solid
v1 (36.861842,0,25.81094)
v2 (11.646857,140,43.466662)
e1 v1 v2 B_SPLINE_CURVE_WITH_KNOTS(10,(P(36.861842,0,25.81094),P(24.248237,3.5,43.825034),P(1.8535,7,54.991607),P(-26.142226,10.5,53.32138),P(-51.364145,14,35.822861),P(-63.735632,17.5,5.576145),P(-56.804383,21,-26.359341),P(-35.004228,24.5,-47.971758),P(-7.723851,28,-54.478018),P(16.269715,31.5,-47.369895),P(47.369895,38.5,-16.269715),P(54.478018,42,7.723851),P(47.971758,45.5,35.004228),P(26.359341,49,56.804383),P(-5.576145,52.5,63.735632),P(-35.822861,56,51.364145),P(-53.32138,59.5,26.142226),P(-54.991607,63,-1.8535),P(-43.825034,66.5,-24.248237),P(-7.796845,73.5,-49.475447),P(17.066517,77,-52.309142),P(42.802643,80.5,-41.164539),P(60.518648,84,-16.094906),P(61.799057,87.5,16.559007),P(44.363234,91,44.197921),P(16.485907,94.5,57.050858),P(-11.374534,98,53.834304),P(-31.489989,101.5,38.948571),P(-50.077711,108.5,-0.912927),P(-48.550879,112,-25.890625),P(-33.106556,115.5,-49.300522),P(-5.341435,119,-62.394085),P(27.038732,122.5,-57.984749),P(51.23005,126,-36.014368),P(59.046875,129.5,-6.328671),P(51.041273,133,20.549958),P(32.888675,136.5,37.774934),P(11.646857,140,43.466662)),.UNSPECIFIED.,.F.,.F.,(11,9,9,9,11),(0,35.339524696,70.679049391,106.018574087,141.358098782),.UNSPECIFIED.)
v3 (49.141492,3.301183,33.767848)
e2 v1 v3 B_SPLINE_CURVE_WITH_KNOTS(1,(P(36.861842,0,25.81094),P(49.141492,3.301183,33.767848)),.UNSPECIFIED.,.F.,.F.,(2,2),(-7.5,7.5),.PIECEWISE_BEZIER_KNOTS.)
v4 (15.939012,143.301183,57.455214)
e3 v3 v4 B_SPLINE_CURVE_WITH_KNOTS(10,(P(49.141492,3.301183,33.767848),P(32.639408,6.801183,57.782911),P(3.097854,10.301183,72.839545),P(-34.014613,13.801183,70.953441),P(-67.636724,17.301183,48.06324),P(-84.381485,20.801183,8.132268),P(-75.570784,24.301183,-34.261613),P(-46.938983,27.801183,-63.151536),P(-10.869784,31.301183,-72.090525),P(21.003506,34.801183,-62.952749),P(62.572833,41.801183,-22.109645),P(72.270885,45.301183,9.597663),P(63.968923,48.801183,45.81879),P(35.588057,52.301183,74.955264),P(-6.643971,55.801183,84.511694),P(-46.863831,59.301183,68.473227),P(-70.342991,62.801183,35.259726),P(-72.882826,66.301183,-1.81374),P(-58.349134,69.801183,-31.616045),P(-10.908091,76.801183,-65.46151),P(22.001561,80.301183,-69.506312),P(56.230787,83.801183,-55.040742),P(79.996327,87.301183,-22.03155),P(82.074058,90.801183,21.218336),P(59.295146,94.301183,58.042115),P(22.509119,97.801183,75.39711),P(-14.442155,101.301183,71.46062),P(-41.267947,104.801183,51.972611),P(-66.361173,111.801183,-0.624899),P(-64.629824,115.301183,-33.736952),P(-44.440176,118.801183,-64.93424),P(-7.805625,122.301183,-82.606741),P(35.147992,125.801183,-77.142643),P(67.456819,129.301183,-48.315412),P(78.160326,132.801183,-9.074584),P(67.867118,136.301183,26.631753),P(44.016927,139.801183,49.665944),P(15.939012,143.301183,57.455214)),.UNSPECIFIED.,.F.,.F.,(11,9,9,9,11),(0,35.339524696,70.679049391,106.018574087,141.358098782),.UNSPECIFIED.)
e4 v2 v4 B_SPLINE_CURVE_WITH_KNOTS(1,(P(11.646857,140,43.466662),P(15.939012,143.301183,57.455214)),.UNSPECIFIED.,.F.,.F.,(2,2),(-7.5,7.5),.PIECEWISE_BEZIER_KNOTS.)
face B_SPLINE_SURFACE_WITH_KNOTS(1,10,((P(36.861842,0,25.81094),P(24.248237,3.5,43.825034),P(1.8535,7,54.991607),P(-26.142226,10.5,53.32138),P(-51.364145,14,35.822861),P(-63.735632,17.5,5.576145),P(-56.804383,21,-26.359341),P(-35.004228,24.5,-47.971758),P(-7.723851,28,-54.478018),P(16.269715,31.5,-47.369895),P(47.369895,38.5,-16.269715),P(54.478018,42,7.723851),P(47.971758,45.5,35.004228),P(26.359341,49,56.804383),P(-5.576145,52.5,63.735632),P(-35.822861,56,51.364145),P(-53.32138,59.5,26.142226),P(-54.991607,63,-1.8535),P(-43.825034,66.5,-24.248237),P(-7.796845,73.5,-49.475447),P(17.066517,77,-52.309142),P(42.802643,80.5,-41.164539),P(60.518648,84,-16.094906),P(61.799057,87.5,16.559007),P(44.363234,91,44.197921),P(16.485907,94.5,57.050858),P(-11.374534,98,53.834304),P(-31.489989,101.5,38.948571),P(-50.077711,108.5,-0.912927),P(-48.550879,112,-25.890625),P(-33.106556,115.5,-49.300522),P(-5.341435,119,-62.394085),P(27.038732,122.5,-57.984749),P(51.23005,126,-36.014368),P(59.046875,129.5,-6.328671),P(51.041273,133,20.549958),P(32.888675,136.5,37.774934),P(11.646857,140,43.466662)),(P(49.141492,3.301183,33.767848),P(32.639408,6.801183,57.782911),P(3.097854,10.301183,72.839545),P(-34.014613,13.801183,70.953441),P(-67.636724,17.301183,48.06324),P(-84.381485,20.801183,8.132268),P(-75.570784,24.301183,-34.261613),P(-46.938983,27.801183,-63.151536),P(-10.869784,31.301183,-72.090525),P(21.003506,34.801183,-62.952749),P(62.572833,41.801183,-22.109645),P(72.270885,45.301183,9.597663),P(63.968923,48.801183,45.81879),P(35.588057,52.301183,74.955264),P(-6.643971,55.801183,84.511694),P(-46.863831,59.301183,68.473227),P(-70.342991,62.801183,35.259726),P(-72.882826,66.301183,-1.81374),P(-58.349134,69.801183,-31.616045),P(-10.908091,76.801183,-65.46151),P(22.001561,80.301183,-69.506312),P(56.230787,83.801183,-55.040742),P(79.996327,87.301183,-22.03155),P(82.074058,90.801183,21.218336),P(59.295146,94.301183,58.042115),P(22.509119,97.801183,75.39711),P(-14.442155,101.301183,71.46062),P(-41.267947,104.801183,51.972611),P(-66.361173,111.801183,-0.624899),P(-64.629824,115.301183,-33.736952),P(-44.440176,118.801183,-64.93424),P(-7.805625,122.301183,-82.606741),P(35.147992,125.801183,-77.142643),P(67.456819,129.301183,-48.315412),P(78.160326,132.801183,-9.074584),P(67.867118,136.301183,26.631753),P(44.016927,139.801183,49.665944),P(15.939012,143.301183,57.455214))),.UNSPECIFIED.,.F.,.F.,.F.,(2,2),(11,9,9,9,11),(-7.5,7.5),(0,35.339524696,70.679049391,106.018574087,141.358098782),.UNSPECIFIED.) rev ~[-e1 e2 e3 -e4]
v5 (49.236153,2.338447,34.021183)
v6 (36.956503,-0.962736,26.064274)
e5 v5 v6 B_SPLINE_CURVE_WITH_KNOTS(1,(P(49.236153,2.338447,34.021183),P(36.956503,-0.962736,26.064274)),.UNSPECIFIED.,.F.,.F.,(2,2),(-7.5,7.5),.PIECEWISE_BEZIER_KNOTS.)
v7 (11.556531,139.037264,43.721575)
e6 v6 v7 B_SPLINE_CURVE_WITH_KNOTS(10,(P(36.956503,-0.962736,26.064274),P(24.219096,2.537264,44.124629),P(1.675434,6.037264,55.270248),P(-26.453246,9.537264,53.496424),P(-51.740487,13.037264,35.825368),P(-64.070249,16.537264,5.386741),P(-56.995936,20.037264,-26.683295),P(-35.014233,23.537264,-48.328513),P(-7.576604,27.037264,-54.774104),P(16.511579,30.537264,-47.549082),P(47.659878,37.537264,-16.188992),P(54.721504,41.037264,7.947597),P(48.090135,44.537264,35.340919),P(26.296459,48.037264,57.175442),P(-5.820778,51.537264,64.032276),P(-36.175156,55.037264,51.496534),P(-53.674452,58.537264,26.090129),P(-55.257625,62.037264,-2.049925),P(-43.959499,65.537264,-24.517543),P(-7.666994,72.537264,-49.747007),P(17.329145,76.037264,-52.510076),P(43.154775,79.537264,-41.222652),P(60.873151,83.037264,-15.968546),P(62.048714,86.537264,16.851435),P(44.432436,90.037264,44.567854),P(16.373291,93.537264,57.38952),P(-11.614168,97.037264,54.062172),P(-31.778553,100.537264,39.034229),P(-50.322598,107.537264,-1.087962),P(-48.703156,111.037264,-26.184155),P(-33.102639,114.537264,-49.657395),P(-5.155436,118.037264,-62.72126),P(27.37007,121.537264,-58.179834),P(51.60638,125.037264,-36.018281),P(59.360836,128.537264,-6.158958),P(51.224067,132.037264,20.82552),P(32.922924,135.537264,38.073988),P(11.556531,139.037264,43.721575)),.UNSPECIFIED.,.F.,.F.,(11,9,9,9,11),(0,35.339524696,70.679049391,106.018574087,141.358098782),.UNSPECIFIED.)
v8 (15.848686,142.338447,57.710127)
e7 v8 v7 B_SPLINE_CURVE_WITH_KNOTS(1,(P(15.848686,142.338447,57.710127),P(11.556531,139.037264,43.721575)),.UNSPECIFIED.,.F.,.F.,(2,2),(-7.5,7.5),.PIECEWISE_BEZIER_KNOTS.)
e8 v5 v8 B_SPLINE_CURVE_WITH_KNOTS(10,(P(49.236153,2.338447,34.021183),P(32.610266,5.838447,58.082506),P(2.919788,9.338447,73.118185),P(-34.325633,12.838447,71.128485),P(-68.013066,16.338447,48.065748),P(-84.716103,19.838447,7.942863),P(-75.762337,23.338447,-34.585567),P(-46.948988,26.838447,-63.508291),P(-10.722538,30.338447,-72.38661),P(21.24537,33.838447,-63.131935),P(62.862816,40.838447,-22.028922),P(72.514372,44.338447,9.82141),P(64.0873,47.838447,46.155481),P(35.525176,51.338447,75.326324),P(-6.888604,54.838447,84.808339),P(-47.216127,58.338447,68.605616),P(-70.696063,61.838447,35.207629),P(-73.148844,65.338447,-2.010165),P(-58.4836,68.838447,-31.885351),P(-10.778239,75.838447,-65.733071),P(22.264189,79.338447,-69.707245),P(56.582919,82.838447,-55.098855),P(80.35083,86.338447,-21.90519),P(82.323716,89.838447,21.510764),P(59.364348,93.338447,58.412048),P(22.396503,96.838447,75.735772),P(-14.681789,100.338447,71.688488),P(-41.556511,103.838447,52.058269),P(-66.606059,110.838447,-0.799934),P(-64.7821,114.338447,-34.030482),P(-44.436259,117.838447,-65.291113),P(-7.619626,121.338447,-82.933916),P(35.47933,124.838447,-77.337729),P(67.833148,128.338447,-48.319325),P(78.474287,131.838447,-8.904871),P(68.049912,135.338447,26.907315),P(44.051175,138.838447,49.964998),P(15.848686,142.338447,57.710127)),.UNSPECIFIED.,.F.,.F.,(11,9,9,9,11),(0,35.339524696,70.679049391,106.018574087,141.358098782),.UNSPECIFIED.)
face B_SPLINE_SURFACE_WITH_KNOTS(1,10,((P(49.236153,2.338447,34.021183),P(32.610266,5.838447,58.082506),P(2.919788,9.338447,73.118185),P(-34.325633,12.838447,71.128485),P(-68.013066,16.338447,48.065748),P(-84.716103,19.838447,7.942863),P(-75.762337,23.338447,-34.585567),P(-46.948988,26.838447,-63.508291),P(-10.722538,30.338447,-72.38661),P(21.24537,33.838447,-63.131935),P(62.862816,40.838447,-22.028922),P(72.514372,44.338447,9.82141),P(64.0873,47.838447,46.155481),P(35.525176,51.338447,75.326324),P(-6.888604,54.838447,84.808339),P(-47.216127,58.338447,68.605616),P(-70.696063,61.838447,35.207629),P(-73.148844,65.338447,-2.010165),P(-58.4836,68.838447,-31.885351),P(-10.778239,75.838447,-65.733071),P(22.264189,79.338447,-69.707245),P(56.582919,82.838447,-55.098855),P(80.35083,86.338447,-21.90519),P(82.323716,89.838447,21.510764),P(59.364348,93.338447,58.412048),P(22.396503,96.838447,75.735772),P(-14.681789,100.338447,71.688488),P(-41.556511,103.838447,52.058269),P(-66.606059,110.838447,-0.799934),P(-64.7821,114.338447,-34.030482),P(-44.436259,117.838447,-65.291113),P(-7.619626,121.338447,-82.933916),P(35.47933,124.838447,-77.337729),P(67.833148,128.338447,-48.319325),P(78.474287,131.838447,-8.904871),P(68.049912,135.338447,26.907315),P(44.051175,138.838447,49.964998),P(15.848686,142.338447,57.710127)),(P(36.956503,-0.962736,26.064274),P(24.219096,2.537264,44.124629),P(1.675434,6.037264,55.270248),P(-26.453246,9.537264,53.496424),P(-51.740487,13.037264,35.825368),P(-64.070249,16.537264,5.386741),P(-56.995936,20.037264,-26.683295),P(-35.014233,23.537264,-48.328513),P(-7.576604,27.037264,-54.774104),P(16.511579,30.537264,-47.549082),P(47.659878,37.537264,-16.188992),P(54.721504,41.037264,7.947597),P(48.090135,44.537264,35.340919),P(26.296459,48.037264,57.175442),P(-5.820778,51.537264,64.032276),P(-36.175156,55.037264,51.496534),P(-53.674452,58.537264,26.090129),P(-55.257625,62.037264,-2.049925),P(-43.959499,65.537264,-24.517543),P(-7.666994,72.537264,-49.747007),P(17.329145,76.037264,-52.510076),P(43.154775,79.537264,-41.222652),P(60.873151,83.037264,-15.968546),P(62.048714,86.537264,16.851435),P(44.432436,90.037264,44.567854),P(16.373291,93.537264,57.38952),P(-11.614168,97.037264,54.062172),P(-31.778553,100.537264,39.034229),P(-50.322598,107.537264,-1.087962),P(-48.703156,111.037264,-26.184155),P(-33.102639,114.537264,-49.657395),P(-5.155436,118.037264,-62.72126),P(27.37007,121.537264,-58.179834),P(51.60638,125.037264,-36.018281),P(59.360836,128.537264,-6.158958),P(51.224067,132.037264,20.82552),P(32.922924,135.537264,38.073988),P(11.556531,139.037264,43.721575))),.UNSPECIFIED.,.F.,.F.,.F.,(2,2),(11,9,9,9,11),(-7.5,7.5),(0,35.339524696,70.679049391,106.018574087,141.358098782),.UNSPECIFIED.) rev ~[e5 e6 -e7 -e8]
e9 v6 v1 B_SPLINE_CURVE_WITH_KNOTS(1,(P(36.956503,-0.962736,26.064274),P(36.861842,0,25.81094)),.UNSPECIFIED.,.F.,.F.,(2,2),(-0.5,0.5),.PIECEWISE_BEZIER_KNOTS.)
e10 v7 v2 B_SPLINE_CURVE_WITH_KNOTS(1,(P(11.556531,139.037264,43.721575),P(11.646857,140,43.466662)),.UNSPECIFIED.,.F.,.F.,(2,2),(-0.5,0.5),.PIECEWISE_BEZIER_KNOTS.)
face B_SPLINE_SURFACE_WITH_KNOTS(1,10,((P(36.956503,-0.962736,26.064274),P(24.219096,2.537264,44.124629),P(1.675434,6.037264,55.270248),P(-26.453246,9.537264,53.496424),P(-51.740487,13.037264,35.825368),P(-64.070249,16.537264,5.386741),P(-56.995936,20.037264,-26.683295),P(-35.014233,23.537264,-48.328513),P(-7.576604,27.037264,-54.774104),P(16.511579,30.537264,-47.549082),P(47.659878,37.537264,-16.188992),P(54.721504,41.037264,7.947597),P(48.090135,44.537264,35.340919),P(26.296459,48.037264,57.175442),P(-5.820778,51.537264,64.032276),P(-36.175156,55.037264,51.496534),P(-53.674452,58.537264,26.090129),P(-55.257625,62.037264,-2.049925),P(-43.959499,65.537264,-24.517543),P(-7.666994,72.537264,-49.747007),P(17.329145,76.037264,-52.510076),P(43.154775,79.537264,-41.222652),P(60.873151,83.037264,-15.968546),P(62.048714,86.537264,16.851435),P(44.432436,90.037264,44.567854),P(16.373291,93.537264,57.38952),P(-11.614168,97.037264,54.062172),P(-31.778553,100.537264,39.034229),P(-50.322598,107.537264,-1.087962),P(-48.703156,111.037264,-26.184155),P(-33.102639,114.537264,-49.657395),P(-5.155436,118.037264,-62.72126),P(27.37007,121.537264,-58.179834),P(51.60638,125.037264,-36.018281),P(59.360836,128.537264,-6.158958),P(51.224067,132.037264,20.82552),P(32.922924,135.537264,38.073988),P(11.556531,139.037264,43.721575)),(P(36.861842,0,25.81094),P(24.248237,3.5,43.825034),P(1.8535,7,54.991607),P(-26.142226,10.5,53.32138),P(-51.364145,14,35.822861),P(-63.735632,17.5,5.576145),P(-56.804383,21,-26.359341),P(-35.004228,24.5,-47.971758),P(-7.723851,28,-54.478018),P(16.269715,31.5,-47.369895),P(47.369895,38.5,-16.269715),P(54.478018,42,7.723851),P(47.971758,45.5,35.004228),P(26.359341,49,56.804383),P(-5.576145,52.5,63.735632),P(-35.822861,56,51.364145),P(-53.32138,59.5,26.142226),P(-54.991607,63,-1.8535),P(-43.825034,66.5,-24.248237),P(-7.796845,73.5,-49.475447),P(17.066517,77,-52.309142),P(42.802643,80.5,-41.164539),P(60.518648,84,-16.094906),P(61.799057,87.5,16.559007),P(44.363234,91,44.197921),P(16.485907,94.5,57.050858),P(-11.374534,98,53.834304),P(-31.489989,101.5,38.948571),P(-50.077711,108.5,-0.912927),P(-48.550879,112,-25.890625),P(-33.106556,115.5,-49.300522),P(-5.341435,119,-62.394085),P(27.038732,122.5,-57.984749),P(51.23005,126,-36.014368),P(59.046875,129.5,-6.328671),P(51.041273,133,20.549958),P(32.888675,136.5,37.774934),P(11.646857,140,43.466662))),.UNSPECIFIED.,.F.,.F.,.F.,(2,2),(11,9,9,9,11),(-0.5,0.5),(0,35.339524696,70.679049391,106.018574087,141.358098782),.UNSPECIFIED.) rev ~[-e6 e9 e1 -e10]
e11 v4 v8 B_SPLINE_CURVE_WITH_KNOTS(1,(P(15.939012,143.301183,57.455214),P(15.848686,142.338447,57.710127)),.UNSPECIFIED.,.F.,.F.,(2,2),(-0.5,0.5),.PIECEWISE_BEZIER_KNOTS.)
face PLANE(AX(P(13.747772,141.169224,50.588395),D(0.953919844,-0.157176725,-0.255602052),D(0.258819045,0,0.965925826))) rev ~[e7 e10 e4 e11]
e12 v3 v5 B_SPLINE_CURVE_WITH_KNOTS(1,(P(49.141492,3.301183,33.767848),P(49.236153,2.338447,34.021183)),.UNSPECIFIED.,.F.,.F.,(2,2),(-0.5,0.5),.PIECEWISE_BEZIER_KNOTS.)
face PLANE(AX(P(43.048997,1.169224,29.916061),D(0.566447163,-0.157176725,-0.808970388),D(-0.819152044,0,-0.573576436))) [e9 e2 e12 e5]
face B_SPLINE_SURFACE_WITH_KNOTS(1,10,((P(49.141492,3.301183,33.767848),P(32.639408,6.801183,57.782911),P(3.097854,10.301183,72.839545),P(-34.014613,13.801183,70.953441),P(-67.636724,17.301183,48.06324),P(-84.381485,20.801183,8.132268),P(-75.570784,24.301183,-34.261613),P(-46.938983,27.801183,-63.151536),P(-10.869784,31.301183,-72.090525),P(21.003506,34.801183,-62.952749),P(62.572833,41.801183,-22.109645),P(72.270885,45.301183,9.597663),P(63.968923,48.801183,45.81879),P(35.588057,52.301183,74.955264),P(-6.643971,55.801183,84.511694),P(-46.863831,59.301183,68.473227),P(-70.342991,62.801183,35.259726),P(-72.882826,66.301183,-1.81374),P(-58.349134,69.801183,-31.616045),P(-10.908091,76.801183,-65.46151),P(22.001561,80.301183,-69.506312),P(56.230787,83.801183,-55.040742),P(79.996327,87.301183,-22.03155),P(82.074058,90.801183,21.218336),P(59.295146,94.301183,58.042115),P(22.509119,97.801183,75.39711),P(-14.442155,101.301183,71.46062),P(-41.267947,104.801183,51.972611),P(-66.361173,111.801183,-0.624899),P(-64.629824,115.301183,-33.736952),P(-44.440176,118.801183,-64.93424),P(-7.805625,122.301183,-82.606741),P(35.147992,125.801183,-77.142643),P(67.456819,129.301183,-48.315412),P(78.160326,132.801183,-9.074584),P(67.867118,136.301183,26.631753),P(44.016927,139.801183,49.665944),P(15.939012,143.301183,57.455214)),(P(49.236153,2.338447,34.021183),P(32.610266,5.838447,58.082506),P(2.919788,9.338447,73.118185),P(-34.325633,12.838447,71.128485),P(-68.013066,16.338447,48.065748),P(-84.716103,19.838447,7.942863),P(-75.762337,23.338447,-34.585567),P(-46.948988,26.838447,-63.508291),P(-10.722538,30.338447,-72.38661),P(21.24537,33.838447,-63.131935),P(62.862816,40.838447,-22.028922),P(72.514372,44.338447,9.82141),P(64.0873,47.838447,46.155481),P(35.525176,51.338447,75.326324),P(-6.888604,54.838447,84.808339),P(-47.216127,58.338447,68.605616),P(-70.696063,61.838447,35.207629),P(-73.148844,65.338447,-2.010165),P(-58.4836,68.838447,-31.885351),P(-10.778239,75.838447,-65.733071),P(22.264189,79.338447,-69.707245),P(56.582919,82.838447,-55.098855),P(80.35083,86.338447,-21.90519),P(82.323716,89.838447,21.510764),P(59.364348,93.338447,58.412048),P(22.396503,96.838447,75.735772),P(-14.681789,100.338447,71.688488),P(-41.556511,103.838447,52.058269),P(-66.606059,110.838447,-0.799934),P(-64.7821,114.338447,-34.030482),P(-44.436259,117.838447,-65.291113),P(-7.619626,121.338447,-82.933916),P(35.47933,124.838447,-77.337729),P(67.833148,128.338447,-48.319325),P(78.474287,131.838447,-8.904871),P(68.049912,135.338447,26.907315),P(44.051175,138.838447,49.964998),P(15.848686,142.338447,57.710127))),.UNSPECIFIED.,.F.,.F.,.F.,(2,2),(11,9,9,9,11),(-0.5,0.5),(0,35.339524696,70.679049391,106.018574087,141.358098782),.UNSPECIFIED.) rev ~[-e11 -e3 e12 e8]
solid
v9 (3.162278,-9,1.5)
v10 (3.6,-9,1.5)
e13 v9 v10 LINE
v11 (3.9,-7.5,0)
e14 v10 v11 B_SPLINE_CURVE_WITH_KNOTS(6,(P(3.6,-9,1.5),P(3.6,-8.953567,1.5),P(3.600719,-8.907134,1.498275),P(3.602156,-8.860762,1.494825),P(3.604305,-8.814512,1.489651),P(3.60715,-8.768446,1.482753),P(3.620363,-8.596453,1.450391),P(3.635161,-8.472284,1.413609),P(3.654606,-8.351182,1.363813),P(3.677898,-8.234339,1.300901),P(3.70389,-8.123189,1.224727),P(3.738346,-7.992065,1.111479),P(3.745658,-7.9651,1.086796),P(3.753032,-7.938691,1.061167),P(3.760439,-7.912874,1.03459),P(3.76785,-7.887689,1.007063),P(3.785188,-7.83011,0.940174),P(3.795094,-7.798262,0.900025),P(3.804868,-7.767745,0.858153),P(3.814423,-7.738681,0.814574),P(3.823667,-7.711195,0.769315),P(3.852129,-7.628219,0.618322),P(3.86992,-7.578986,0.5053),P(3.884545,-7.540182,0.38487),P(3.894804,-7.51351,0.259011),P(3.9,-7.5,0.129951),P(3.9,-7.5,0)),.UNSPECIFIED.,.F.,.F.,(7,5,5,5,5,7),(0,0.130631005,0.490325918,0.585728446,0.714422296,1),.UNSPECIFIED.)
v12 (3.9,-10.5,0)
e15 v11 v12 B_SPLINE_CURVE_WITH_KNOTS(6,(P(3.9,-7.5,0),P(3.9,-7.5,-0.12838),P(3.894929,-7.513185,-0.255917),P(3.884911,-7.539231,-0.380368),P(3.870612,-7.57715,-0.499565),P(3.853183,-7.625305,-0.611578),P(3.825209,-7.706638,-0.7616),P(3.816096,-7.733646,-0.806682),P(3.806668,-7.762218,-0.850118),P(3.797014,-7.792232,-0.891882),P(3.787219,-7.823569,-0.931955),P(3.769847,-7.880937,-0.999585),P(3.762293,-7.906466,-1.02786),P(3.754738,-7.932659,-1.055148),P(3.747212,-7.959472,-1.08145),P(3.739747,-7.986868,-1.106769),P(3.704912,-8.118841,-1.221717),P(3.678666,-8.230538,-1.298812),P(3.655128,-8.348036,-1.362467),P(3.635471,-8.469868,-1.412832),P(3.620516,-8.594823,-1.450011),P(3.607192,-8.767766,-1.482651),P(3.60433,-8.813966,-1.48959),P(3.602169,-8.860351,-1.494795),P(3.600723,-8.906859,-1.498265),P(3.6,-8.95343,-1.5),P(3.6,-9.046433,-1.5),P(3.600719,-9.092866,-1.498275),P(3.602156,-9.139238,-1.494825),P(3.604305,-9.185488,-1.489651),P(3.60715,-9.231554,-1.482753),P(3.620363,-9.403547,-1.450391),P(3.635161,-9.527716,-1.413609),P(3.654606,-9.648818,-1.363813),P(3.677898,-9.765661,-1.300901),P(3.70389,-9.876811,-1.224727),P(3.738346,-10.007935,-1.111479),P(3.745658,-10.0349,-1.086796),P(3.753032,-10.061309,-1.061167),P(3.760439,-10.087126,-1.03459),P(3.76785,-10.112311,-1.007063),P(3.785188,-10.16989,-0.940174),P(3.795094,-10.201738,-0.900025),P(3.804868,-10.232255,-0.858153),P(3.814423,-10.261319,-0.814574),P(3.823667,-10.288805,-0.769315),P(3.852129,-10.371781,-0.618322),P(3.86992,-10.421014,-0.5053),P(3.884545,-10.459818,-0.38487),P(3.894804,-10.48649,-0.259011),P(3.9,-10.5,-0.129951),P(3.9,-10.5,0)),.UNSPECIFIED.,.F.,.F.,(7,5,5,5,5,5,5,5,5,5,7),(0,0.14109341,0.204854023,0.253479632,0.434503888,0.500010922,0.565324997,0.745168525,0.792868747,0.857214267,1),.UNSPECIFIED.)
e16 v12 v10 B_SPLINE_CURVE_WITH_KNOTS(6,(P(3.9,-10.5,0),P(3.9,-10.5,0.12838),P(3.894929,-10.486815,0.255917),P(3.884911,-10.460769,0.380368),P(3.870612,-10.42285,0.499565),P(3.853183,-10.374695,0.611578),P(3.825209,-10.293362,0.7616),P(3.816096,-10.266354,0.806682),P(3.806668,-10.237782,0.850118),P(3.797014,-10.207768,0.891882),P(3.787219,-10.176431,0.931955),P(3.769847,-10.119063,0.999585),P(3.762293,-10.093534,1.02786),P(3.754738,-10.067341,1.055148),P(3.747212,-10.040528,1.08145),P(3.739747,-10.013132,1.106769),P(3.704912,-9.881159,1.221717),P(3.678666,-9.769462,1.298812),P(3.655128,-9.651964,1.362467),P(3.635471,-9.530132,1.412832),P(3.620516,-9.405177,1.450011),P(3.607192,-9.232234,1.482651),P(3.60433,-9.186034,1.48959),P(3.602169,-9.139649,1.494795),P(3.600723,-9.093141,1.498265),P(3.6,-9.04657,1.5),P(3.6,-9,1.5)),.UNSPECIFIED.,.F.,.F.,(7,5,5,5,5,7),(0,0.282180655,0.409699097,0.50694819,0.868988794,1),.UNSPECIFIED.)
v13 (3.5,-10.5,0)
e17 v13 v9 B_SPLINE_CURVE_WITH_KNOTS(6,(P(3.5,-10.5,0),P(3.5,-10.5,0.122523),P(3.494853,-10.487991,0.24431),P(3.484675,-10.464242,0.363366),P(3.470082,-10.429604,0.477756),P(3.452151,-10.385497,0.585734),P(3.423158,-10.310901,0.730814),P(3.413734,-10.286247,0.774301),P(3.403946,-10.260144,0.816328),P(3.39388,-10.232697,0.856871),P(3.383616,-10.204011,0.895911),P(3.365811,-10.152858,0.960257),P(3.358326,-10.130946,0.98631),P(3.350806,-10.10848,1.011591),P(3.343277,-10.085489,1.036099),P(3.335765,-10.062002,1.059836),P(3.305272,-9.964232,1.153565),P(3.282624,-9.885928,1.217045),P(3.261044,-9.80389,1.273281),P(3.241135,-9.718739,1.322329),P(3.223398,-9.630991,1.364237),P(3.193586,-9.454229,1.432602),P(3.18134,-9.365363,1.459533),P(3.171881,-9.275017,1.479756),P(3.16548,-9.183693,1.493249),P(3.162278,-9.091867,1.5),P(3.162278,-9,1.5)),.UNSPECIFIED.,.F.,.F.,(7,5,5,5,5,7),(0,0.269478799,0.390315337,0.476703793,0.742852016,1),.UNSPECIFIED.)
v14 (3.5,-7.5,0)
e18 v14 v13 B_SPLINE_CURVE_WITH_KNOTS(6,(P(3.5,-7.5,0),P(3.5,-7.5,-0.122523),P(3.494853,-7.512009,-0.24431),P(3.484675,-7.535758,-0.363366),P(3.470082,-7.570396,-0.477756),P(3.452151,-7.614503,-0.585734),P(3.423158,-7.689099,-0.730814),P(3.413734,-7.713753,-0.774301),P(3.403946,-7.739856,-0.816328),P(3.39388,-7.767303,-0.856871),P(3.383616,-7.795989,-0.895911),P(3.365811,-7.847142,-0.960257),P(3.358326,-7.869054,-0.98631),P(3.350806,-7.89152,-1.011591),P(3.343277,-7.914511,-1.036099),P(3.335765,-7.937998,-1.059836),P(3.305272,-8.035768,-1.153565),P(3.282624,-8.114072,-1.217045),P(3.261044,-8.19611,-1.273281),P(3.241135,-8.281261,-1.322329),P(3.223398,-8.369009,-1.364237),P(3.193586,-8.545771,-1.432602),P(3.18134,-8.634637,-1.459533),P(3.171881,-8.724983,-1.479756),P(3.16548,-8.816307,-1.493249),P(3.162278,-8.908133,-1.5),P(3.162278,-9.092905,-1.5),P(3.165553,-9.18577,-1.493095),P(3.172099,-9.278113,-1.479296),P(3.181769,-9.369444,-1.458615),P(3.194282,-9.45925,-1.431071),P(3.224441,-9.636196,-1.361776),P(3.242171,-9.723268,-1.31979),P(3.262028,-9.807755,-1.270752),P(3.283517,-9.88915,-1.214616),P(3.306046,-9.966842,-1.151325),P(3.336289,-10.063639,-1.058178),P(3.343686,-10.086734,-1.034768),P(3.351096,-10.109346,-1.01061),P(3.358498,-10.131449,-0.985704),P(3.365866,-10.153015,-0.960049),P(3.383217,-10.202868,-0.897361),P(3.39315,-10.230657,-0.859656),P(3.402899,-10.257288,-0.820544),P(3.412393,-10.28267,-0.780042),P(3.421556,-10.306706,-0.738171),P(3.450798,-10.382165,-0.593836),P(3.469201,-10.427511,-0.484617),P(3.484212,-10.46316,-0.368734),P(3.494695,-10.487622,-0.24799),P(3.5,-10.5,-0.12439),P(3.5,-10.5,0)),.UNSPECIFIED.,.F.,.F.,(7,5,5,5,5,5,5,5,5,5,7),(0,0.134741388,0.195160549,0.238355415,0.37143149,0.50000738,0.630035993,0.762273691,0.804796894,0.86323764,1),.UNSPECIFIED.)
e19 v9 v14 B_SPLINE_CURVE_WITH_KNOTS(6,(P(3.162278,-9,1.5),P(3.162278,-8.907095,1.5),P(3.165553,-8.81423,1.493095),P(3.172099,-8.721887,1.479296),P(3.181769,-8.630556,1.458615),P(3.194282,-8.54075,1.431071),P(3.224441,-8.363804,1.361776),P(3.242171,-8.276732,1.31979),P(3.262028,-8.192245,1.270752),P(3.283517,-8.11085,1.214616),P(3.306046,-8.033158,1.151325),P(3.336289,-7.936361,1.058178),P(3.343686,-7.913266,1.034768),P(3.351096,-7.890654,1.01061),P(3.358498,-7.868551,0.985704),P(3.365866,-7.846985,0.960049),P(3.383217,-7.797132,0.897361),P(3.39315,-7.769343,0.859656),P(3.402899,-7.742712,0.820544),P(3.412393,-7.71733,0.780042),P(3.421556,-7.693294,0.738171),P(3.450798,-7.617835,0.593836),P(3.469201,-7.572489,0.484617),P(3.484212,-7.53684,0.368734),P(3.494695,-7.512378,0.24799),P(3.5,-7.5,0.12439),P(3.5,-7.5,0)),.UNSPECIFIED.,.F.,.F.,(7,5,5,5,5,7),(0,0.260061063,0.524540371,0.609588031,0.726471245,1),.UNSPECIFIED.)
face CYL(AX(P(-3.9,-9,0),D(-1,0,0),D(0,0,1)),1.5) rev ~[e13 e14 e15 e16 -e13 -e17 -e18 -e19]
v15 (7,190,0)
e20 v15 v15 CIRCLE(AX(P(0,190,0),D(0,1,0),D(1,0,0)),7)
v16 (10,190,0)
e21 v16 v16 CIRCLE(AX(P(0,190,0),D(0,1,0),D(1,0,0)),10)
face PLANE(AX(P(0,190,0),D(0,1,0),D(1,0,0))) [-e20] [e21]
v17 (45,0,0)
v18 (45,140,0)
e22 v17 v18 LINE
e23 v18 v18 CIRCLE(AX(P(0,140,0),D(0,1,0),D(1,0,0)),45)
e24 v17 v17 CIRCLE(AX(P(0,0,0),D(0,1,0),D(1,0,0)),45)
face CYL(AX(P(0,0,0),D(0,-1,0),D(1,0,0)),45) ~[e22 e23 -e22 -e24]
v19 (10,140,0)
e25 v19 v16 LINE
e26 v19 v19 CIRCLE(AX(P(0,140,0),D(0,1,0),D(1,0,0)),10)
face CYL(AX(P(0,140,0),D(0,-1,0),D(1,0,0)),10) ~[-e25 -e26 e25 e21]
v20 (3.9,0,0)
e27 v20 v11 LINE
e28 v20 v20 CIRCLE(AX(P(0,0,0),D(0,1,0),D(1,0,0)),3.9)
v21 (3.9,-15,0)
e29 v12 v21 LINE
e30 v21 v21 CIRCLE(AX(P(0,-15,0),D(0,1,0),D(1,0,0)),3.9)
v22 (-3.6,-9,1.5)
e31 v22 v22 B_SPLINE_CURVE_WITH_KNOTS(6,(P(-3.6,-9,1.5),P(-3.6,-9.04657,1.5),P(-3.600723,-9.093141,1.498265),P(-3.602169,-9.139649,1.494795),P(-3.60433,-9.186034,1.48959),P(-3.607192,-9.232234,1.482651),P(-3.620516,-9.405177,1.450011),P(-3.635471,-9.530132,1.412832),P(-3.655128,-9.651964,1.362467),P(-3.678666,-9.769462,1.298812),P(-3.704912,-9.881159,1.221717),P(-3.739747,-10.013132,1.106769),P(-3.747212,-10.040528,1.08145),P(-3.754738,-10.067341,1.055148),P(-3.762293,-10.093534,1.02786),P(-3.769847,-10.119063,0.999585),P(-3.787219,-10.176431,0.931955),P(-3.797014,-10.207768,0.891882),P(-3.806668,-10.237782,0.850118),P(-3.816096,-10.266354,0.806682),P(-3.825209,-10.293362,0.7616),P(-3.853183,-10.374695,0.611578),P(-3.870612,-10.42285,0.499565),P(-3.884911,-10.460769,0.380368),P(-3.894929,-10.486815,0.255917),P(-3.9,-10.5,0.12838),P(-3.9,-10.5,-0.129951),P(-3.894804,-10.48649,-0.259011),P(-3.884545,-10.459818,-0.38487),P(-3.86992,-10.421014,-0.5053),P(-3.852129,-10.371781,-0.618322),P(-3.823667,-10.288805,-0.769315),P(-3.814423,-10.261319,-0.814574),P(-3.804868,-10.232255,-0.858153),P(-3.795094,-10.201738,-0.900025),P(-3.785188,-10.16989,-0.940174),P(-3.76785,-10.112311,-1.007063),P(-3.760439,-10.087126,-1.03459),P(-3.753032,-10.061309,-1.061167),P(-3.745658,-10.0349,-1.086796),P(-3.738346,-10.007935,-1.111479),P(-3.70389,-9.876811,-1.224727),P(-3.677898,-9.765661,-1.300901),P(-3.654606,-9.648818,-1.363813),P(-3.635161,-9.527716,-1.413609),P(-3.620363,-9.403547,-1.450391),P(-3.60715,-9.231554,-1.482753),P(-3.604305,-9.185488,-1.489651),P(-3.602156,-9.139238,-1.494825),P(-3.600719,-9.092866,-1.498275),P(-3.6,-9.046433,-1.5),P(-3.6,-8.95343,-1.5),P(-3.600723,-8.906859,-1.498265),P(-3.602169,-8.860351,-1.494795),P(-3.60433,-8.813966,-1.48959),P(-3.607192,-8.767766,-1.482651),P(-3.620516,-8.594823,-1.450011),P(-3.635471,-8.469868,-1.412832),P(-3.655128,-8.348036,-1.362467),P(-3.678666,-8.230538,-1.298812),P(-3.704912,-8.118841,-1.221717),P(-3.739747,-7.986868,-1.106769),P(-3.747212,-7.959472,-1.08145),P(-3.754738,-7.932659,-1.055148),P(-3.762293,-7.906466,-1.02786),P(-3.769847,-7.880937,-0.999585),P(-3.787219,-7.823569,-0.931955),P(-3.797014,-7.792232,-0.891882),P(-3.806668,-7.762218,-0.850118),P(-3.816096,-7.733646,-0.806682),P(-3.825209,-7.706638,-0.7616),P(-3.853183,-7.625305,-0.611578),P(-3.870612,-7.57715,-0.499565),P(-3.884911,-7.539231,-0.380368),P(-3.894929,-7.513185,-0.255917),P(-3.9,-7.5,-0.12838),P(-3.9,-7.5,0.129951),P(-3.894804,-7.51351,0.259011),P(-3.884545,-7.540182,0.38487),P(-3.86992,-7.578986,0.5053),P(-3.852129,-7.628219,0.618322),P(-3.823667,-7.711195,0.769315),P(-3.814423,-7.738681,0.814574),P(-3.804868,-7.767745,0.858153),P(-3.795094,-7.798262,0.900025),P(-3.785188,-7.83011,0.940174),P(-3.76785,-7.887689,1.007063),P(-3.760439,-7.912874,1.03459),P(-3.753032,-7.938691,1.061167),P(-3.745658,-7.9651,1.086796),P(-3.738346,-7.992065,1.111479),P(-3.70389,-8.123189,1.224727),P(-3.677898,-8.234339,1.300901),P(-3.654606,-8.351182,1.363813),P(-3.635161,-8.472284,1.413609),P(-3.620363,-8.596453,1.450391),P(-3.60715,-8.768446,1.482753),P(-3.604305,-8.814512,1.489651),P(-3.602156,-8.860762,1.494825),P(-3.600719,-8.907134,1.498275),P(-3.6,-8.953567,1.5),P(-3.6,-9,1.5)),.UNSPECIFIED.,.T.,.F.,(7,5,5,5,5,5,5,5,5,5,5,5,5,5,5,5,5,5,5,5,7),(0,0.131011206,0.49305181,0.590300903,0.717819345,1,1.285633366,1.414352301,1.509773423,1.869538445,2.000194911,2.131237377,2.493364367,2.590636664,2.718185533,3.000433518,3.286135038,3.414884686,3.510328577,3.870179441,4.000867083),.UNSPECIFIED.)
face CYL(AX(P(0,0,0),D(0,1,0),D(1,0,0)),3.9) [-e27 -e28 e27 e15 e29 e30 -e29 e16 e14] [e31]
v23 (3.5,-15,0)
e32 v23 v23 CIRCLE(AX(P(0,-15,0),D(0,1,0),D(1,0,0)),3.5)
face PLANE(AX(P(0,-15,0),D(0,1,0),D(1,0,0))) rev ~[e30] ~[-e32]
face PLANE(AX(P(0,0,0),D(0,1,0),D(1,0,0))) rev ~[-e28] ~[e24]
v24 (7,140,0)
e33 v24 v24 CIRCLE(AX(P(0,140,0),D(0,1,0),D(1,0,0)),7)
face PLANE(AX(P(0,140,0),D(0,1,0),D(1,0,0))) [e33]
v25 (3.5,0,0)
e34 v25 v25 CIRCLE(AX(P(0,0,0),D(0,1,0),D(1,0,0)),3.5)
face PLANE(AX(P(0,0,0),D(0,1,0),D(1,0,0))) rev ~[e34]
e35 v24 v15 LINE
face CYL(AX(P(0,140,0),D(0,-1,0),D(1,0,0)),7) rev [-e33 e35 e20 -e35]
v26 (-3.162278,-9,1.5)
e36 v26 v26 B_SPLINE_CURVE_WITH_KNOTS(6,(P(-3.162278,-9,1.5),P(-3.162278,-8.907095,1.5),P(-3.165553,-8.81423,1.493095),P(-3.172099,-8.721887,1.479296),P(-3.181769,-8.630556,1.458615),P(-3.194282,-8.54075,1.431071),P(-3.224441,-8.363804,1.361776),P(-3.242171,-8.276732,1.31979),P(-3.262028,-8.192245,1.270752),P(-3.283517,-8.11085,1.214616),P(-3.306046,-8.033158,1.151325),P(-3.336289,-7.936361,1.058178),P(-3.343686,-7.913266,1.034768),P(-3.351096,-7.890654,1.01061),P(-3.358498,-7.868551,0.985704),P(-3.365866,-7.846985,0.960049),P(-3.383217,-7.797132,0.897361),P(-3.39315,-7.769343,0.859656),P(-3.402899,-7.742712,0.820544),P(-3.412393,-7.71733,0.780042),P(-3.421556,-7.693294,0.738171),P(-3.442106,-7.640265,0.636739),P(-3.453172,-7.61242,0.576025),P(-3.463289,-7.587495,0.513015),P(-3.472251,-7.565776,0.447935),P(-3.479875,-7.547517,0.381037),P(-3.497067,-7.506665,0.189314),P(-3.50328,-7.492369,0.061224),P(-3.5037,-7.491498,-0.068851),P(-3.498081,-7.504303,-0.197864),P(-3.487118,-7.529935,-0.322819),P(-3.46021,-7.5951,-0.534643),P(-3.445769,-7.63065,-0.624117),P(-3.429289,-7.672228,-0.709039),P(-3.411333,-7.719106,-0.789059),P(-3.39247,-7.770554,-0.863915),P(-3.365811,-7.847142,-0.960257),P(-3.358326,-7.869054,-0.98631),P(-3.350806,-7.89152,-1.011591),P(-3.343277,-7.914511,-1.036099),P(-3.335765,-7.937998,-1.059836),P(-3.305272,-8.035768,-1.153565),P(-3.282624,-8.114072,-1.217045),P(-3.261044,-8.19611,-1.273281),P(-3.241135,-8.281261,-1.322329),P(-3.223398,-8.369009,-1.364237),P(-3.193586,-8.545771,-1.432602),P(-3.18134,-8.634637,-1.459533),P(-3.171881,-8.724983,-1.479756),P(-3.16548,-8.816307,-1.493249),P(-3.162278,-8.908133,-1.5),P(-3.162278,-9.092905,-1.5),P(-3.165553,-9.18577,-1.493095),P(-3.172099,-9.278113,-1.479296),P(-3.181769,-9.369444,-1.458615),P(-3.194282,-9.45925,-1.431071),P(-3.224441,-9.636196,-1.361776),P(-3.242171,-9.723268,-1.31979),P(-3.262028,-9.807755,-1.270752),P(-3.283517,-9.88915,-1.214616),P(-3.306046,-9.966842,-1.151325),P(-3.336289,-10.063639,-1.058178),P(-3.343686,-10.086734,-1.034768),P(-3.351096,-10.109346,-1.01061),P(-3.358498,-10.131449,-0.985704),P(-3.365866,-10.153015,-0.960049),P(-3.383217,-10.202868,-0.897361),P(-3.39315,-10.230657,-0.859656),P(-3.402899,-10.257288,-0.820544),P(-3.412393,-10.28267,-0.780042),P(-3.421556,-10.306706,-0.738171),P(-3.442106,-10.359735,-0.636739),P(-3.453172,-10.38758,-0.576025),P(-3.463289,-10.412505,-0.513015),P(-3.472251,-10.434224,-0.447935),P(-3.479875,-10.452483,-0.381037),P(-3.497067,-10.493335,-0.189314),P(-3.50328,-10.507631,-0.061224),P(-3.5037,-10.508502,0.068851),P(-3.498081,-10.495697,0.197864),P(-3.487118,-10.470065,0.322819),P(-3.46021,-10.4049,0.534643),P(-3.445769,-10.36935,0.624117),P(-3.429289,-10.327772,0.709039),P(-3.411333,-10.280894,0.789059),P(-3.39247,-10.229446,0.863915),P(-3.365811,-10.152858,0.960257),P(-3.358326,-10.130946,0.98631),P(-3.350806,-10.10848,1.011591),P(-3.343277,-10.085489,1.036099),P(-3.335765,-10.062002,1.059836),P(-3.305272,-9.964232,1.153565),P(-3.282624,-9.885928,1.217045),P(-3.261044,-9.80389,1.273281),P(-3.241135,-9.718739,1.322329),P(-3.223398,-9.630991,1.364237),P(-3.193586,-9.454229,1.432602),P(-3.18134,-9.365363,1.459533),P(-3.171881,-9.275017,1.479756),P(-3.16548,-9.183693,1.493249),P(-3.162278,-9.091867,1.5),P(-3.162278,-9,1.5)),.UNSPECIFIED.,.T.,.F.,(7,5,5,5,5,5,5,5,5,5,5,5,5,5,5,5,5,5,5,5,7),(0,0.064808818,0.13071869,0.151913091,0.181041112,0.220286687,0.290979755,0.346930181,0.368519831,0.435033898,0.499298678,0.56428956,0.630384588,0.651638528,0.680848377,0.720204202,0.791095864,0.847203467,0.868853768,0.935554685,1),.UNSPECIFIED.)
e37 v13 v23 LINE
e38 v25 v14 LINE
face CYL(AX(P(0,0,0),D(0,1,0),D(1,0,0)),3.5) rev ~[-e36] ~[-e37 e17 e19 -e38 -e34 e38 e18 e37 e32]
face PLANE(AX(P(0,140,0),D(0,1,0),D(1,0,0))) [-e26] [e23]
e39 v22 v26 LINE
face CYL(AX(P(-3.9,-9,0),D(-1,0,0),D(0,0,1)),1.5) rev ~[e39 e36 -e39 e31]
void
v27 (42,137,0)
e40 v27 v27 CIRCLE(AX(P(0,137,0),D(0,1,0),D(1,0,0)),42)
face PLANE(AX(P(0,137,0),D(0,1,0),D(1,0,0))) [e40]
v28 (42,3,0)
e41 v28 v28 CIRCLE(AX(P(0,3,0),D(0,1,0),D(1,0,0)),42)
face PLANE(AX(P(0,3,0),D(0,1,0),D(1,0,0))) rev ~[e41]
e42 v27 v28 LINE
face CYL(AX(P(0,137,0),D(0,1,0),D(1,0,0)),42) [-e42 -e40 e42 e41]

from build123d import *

# Parameters (mm, degrees)
SKETCH2_R               = 45
BOSS_EXTRUDE1_DEPTH     = 140
SWEEP2_PITCH            = 45
SWEEP2_HEIGHT           = 140
SWEEP2_RADIUS           = 45
SWEEP2_START_ANGLE      = 55
SKETCH7_W               = 15
SKETCH7_H               = 1
SKETCH9_R               = 3.9
SKETCH9_R_2             = 3.5
BOSS_EXTRUDE2_DEPTH     = 15
SKETCH10_R              = 10
SKETCH10_R_2            = 7
BOSS_EXTRUDE3_DEPTH     = 50
SKETCH19_R              = 42
CUT_EXTRUDE2_DEPTH      = 134
SKETCH20_R              = 1.5
CUT_EXTRUDE4_DEPTH      = 56.946827101
CUT_EXTRUDE4_DEPTH_BACK = 64.746830086


with BuildPart() as part:
    # Sketch2 → Boss-Extrude1 (new body)
    with BuildSketch(Plane(origin=(0, 0, 0), x_dir=(1, 0, 0), z_dir=(0, 1, 0))):
        Circle(SKETCH2_R)
    extrude(amount=BOSS_EXTRUDE1_DEPTH)

    # Sketch9 → Boss-Extrude2 (add)
    with BuildSketch(Plane(origin=(0, 0, 0), x_dir=(1, 0, 0), z_dir=(0, 1, 0))):
        Circle(SKETCH9_R)
        Circle(SKETCH9_R_2, mode=Mode.SUBTRACT)
    extrude(amount=-BOSS_EXTRUDE2_DEPTH)

    # Sketch10 → Boss-Extrude3 (add)
    with BuildSketch(Plane(origin=(0, 140, 0), x_dir=(1, 0, 0), z_dir=(0, 1, 0))):
        Circle(SKETCH10_R)
        Circle(SKETCH10_R_2, mode=Mode.SUBTRACT)
    extrude(amount=BOSS_EXTRUDE3_DEPTH)

    # Sketch19 → Cut-Extrude2 (cut)
    with BuildSketch(Plane(origin=(0, 137, 0), x_dir=(1, 0, 0), z_dir=(0, 1, 0))):
        Circle(SKETCH19_R)
    extrude(amount=-CUT_EXTRUDE2_DEPTH, mode=Mode.SUBTRACT)

    # Sketch20 → Cut-Extrude4 (cut, two sides)
    with BuildSketch(Plane.ZY.offset(3.9)) as cut_extrude4_sk:
        with Locations((0, -9)):
            Circle(SKETCH20_R)
    extrude(amount=CUT_EXTRUDE4_DEPTH, mode=Mode.SUBTRACT)
    extrude(cut_extrude4_sk.sketch, amount=-CUT_EXTRUDE4_DEPTH_BACK, mode=Mode.SUBTRACT)


with BuildPart() as body_2:
    # Sweep2: sweep along a helix
    with BuildLine() as sweep2_path:
        add(Helix(SWEEP2_PITCH, SWEEP2_HEIGHT, SWEEP2_RADIUS, center=(0, 0, 0), direction=(0, 1, 0), lefthand=True, mode=Mode.PRIVATE).rotate(Axis((0, 0, 0), (0, 1, 0)), SWEEP2_START_ANGLE))
    # Sketch7 → Sweep2 (sweep)
    with BuildSketch(Plane(origin=(11.64685703, 140, 43.466662183), x_dir=(-0.286143667, -0.220078885, -0.932570151), z_dir=(0.953919844, -0.157176725, -0.255602052))):
        with Locations((-7.5, -0.5)):
            Rectangle(SKETCH7_W, SKETCH7_H)
    sweep(path=sweep2_path.line, is_frenet=True)


solid = Compound([part.part, body_2.part])
